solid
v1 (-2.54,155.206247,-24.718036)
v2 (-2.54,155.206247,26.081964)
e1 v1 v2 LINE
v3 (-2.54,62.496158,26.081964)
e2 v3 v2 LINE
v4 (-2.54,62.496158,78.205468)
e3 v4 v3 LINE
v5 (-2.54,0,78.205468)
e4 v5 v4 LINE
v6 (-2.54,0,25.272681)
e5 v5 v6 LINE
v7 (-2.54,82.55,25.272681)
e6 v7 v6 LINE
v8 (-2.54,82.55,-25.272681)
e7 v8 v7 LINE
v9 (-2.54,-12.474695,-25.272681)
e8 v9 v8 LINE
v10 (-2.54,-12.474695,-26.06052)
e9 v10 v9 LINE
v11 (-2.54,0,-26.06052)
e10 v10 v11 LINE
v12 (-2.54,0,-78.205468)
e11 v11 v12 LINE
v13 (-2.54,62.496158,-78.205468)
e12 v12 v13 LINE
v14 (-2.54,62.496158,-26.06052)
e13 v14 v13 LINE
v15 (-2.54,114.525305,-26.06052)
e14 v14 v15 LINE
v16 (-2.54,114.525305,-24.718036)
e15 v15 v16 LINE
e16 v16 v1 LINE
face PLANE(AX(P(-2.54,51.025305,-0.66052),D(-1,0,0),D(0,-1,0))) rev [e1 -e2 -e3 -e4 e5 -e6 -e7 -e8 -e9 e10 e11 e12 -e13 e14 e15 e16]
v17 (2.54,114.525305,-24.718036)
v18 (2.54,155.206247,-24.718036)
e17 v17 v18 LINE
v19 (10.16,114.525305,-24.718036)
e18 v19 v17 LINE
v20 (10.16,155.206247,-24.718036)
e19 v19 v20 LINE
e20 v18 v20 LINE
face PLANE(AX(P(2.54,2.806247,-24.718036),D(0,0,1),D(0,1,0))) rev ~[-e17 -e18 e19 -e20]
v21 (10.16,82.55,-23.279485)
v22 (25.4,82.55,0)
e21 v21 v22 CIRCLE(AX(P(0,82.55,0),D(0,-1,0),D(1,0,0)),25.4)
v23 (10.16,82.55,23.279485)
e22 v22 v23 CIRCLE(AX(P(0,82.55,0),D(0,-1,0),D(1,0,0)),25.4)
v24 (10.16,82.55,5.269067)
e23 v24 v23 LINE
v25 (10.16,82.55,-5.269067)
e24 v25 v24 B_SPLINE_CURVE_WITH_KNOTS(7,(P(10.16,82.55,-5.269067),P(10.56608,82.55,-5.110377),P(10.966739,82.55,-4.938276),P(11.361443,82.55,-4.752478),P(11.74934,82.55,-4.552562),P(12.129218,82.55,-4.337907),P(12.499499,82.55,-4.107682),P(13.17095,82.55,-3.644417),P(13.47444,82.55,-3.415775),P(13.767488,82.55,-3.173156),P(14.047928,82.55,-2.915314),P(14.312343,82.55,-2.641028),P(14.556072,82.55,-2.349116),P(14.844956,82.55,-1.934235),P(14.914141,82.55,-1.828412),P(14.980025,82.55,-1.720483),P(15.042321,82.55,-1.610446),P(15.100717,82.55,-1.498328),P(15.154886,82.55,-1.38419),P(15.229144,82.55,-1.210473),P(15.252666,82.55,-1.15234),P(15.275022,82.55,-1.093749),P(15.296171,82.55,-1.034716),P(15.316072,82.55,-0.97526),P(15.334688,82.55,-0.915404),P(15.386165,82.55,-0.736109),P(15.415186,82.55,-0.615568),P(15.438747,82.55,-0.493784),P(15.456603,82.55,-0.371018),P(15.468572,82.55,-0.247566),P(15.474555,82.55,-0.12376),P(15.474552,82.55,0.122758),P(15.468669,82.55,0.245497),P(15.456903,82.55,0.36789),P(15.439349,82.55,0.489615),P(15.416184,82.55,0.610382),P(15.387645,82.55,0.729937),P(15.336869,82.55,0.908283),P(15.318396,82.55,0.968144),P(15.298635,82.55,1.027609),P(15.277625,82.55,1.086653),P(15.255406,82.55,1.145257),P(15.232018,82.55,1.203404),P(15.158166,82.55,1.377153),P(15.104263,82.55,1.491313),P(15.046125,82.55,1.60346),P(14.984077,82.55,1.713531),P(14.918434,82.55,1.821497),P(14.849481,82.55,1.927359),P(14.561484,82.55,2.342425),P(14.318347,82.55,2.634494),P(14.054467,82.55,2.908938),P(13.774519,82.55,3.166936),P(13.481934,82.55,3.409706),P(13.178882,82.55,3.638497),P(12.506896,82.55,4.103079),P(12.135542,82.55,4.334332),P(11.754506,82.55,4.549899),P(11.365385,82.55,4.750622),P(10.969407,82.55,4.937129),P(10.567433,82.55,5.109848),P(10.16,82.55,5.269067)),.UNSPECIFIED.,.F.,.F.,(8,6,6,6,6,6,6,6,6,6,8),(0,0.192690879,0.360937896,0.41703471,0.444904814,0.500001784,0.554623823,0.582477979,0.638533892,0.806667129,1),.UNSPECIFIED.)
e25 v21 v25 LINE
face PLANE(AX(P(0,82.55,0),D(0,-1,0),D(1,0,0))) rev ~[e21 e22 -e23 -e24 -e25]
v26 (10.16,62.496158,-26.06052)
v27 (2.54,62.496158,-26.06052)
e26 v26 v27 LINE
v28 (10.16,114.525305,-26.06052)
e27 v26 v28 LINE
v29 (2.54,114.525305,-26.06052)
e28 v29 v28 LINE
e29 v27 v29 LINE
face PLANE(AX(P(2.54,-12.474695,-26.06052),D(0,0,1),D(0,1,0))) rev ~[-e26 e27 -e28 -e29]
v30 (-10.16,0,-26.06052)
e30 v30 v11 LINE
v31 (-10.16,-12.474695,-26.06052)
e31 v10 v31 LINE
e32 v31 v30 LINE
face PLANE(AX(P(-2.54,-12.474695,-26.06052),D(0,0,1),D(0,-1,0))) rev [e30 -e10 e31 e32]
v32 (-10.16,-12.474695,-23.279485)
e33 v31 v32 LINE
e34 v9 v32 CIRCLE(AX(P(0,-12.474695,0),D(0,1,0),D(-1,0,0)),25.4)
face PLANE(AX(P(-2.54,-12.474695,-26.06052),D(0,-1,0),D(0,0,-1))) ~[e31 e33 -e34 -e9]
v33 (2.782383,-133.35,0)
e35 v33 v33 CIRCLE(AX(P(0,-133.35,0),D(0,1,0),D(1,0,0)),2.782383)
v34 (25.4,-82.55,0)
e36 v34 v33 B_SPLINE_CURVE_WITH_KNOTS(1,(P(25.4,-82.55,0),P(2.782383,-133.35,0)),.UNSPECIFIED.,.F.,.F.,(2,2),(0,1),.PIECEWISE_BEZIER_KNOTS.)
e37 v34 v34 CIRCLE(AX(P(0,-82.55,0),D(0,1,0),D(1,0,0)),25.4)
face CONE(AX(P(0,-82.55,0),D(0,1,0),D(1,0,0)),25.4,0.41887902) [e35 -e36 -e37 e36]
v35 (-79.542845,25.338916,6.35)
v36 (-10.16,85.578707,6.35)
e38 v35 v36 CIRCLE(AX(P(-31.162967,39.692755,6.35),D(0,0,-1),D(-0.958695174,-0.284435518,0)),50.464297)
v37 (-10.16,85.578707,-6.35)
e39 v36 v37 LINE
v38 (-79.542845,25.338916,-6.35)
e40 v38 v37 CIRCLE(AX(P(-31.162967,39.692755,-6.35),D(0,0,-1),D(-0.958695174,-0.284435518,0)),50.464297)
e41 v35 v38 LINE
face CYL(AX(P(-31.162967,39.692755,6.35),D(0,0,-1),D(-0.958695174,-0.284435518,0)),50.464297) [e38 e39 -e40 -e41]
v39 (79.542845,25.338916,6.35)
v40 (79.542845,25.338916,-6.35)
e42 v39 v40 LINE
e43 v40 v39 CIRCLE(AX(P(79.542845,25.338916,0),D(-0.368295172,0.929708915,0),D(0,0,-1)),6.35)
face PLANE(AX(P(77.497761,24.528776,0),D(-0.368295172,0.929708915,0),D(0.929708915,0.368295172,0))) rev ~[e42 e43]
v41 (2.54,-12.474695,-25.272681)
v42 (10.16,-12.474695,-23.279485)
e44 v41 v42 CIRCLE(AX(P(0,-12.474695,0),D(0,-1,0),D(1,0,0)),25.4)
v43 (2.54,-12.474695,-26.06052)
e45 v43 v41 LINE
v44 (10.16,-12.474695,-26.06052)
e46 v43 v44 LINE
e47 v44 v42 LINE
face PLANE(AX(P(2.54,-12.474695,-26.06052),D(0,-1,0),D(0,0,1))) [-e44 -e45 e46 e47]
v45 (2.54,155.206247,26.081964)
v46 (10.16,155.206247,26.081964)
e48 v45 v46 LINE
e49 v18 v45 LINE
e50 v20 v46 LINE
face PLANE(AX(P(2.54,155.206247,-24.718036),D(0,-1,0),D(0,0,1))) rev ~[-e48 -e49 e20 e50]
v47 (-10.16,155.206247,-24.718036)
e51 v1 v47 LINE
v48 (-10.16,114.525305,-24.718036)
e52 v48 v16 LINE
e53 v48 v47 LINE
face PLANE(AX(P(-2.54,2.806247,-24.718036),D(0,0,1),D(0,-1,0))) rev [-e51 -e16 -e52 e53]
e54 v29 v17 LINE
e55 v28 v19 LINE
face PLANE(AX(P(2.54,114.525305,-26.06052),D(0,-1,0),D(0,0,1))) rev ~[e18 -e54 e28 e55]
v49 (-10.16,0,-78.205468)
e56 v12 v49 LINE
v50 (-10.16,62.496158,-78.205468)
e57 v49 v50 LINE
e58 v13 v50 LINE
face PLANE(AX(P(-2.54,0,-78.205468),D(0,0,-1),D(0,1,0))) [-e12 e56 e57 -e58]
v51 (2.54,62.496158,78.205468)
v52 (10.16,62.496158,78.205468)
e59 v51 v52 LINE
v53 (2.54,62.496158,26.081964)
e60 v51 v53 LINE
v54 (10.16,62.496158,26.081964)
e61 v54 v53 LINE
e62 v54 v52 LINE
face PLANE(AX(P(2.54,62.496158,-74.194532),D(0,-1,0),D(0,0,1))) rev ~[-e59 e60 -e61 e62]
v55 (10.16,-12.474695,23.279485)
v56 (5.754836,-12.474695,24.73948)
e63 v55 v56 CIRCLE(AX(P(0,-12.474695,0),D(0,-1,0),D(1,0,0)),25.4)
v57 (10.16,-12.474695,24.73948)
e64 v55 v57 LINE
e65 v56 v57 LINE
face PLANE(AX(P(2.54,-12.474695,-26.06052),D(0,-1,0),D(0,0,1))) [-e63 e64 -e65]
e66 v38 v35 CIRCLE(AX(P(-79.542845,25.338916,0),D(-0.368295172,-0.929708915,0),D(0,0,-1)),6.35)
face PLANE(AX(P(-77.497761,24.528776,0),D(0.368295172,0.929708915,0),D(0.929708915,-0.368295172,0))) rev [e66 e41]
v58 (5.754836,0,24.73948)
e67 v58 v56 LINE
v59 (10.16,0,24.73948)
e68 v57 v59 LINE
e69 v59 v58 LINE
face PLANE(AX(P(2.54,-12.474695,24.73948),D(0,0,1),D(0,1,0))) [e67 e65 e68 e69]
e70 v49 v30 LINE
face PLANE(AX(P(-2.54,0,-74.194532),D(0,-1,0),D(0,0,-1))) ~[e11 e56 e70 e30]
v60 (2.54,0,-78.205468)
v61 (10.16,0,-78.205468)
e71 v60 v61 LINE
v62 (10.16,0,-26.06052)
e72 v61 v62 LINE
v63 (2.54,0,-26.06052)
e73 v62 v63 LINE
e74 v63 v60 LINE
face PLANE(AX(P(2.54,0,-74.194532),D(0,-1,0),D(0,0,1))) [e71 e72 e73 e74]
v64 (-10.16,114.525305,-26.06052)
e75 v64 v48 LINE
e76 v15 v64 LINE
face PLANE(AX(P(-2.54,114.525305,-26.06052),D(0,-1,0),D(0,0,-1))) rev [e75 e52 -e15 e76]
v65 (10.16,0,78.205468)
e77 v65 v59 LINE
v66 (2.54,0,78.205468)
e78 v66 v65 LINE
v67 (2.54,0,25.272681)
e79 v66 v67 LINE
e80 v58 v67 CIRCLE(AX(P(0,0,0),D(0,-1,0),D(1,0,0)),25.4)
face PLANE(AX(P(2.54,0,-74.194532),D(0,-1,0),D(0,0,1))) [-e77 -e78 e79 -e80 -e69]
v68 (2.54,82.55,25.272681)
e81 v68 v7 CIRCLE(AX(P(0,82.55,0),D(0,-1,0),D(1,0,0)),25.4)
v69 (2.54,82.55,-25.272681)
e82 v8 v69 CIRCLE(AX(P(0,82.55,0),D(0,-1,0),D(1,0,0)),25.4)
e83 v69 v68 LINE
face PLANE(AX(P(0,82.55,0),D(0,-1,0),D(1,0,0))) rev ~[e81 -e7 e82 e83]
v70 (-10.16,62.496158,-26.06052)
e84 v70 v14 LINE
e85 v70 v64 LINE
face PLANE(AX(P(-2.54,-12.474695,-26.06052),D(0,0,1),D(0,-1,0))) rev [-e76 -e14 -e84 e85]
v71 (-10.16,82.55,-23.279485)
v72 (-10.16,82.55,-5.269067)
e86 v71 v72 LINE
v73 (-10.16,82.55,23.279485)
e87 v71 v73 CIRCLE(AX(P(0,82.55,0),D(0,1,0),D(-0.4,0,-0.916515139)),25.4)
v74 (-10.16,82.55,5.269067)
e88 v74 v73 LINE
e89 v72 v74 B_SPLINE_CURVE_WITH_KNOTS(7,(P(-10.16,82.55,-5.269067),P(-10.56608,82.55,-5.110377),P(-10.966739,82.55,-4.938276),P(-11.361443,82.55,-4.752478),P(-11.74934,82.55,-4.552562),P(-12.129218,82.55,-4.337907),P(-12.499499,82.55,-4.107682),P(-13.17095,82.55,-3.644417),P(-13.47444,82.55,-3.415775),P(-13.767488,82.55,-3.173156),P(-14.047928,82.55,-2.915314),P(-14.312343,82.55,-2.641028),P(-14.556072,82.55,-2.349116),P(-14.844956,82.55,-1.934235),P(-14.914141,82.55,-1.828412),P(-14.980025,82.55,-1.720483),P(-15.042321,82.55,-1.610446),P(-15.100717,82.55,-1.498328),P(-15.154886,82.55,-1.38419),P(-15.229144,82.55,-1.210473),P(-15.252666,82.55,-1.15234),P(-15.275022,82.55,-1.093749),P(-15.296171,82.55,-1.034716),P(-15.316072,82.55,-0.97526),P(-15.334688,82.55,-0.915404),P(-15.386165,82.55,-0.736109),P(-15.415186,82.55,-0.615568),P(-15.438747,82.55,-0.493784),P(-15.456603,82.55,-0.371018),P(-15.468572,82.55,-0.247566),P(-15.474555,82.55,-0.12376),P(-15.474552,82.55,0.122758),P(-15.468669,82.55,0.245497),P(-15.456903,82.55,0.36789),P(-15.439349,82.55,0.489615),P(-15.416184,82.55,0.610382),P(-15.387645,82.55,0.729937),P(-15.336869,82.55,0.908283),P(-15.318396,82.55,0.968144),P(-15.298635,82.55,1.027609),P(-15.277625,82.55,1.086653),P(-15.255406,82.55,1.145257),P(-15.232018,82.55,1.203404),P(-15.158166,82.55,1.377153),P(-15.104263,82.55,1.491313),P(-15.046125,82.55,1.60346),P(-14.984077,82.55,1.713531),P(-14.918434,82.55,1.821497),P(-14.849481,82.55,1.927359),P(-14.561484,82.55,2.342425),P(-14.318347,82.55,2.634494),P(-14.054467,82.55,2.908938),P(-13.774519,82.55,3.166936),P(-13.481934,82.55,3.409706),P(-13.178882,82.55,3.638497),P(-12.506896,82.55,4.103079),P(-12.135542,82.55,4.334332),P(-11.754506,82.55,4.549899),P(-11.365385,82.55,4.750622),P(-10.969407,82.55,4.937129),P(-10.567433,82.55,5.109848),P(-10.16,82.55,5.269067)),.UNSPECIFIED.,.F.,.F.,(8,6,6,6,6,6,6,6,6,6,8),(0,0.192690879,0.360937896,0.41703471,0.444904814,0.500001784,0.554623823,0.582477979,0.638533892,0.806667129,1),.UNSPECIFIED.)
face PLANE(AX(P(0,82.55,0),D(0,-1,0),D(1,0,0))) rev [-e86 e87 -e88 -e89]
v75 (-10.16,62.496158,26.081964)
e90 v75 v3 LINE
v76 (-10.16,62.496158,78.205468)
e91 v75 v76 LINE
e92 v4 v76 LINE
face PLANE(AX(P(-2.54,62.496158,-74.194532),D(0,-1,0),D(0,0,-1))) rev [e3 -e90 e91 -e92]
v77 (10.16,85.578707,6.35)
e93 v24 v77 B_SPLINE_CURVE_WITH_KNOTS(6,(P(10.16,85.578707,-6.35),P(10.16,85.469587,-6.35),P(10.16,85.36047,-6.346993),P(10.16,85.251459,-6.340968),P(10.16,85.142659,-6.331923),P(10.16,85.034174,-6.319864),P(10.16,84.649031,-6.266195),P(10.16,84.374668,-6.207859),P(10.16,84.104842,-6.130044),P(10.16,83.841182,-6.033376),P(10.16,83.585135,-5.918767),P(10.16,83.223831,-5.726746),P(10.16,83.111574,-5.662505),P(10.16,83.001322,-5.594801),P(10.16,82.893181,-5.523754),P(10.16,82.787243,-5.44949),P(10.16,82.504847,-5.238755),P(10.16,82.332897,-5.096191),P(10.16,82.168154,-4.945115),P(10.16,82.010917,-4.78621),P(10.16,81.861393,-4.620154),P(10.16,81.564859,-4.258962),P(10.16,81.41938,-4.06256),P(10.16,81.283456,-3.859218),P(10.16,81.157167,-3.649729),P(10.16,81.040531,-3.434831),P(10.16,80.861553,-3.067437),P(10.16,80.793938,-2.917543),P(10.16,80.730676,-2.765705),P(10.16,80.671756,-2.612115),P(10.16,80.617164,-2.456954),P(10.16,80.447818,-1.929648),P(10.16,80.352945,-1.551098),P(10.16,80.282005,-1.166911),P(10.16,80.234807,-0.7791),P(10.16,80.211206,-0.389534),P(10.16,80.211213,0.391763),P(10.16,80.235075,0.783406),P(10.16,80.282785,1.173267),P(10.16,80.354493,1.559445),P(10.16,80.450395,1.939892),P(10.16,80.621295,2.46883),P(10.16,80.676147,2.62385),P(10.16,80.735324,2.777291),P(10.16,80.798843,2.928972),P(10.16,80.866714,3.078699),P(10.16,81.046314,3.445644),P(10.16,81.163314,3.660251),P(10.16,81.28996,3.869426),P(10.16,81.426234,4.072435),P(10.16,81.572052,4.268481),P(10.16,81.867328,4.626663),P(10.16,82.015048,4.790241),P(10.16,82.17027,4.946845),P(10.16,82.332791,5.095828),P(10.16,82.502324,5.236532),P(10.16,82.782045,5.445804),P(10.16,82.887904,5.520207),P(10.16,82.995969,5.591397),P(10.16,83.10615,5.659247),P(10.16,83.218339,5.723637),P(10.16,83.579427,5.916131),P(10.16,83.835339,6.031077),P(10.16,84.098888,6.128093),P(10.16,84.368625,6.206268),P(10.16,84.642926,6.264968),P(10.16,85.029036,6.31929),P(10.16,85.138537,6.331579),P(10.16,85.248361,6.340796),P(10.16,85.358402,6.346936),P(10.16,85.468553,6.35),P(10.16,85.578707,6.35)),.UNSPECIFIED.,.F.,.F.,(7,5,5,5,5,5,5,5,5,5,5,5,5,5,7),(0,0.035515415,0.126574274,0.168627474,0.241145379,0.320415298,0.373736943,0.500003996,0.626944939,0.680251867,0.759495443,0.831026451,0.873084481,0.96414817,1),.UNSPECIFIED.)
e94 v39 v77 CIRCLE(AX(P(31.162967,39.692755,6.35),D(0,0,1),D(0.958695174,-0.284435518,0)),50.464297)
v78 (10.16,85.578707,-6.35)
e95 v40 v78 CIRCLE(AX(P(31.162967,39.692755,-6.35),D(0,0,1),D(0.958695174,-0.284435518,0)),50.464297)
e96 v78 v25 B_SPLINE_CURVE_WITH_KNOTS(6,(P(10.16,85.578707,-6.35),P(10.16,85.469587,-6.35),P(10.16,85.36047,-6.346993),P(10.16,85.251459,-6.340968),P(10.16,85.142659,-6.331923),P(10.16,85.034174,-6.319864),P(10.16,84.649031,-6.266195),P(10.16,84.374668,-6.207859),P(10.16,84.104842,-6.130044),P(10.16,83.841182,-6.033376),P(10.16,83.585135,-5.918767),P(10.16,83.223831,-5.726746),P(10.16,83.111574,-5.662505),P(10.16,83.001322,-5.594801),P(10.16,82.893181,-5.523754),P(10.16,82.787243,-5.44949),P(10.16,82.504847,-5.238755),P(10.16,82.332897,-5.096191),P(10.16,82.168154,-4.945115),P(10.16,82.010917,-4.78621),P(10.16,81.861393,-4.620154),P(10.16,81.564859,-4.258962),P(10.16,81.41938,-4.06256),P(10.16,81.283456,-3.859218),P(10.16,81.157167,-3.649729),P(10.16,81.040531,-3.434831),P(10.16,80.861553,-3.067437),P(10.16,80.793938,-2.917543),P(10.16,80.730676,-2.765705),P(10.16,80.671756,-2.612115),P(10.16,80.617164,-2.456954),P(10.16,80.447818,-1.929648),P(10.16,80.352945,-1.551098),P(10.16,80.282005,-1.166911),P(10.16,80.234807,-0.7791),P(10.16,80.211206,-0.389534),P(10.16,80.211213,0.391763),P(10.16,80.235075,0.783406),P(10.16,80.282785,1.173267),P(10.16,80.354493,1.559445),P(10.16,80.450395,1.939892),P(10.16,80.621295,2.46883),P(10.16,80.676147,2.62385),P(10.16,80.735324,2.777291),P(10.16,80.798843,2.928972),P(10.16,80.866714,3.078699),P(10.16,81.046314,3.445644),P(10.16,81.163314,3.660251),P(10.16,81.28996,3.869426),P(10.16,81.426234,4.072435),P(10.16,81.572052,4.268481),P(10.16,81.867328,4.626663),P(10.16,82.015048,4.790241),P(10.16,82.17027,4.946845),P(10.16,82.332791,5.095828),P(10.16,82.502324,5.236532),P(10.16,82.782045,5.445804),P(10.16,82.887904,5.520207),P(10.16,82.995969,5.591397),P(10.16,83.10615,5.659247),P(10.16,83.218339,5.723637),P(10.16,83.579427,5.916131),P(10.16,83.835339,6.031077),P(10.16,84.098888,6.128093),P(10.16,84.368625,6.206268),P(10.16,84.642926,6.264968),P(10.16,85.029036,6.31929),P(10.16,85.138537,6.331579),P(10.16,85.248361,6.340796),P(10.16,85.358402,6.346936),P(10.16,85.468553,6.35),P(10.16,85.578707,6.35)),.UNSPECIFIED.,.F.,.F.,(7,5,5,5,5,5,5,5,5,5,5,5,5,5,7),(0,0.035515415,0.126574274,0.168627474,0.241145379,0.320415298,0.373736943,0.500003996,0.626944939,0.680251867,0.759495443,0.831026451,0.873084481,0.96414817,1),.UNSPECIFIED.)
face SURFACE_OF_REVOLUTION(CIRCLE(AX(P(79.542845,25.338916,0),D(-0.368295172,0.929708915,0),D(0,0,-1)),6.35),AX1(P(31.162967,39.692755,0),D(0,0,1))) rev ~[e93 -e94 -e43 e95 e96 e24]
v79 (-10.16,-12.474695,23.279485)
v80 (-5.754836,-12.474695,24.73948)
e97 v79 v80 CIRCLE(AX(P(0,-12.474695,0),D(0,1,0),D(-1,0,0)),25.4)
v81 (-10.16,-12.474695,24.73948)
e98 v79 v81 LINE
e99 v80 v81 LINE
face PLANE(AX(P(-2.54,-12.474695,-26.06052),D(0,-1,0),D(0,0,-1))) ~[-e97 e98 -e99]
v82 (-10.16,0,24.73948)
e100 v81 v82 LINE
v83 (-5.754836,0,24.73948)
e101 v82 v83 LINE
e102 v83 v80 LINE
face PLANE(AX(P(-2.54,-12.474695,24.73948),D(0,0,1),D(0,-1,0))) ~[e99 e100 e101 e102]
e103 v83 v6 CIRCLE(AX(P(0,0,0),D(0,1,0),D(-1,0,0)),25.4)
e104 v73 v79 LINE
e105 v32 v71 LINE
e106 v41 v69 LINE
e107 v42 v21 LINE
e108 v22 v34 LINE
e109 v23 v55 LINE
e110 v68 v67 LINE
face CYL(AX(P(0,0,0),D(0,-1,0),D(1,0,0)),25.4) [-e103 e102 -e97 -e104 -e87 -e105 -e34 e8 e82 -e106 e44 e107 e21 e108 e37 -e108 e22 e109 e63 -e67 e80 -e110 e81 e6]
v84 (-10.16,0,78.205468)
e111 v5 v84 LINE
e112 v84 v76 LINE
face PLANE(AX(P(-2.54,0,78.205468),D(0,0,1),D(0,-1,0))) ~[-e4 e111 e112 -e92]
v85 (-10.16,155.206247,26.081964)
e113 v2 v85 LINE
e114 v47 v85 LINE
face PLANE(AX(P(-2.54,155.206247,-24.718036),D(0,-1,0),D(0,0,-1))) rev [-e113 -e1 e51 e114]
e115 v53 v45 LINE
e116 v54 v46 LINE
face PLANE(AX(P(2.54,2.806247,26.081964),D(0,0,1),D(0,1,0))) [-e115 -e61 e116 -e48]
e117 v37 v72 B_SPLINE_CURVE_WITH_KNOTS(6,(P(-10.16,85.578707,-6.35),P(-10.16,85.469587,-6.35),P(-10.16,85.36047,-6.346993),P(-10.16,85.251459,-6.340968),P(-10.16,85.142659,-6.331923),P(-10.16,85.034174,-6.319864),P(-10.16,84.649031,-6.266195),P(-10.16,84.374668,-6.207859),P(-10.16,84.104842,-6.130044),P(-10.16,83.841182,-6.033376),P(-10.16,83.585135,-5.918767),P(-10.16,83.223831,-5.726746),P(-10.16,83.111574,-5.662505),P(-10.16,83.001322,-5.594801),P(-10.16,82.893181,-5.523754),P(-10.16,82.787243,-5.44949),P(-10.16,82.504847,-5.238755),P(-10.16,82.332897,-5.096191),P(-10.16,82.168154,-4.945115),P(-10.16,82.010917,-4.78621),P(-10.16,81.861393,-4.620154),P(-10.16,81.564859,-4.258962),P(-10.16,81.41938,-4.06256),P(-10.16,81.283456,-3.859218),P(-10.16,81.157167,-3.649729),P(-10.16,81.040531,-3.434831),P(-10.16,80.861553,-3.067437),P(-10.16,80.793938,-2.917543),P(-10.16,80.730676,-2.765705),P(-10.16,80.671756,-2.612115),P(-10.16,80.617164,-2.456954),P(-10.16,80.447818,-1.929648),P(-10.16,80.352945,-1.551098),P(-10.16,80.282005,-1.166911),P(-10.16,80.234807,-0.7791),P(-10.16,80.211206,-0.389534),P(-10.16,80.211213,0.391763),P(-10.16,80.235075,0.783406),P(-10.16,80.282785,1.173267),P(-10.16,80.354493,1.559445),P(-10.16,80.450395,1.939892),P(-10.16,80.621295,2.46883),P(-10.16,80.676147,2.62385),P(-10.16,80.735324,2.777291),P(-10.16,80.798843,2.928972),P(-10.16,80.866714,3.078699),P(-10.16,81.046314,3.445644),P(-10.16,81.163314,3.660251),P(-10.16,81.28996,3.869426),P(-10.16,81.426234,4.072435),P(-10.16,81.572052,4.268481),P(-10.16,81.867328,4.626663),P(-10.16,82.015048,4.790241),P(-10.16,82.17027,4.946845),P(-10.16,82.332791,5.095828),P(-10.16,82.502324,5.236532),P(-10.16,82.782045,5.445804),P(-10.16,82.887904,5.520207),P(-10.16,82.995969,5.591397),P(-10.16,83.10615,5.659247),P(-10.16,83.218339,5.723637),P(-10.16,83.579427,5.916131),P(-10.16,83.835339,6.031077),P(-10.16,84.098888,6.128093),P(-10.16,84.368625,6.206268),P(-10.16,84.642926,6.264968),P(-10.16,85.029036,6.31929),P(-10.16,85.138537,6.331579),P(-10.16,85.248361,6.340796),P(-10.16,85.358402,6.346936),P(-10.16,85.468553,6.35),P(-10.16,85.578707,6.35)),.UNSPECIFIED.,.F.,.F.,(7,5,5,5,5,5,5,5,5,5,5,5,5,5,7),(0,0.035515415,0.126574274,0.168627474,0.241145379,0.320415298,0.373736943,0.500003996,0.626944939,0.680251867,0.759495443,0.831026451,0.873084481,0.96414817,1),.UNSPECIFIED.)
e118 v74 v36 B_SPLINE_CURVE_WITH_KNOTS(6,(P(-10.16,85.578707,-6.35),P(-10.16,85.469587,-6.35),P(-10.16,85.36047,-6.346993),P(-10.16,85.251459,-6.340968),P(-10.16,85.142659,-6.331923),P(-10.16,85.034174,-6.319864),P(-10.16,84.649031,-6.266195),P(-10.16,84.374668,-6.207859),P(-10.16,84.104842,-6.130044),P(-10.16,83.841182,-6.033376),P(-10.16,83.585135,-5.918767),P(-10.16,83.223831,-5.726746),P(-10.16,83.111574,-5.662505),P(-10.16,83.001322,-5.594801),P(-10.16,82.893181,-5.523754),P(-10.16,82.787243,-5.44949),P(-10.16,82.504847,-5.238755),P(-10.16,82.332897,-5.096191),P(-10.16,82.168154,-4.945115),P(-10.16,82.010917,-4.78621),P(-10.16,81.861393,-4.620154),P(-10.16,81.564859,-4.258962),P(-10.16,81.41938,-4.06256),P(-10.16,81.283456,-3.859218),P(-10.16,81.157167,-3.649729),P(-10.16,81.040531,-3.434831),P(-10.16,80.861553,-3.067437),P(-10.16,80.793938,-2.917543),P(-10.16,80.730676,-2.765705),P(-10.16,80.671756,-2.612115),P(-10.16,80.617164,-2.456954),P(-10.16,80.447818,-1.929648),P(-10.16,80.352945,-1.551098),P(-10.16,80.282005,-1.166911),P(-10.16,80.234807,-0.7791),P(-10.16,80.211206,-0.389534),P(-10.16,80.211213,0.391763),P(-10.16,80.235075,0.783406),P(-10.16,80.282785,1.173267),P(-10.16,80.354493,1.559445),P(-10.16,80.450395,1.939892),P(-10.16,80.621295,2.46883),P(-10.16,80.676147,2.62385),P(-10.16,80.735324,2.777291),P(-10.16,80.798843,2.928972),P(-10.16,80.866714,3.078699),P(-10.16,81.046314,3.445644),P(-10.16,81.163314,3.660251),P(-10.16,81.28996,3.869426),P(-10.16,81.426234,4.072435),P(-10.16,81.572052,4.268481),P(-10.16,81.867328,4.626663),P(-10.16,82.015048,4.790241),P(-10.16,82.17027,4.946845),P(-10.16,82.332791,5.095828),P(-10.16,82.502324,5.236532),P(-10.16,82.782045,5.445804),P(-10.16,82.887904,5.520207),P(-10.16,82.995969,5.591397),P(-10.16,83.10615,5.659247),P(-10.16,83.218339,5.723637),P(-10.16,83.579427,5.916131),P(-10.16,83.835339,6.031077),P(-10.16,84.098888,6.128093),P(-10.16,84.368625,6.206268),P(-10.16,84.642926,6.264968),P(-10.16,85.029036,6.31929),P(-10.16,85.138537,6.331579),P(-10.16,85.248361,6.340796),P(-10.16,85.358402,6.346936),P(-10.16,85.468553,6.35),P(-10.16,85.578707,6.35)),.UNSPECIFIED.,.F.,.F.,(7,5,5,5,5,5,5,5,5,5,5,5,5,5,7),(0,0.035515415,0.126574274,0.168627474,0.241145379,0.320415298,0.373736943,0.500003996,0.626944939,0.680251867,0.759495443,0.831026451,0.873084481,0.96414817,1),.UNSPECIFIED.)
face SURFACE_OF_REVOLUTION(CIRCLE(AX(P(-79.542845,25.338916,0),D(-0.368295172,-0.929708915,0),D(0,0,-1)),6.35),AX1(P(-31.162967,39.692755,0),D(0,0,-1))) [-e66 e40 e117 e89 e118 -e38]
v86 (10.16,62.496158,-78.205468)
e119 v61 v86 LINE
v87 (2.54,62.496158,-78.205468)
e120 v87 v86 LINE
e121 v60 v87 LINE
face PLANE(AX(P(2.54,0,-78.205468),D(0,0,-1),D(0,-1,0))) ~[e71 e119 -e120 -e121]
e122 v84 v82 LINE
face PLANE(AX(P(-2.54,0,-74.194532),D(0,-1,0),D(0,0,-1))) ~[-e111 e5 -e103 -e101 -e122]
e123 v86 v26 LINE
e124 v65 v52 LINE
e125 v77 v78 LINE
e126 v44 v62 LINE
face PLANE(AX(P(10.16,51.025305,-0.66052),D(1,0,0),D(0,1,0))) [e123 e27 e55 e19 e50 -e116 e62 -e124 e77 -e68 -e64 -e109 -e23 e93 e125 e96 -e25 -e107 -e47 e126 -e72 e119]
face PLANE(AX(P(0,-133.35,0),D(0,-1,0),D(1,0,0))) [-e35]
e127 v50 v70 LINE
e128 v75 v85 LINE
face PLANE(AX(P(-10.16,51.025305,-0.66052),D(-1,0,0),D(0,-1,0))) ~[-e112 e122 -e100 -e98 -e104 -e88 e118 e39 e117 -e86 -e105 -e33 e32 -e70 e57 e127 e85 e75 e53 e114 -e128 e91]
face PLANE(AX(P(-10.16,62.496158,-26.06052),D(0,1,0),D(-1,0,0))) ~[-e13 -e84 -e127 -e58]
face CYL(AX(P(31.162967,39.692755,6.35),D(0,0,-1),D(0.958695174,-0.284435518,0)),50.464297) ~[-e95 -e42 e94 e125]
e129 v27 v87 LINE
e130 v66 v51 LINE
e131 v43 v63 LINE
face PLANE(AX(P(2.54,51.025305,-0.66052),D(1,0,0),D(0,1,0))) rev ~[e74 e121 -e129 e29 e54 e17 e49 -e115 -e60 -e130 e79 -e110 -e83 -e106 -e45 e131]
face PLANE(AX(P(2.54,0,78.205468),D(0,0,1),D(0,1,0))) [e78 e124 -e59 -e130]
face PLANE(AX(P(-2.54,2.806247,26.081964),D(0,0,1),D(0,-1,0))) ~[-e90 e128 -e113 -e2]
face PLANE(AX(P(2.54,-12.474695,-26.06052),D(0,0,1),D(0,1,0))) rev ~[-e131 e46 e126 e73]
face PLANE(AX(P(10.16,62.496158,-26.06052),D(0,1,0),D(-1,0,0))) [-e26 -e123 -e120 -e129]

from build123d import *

# Parameters (mm, degrees)
F0_W      = 24.6273766255
F0_H      = 152.4
F3_R      = 25.4
F4_DEPTH  = 82.55
F8_W      = 62.4961581021
F8_H      = 152.4
F9_DEPTH  = 7.62
F11_W     = 127
F11_H     = 50.8
F12_DEPTH = 7.62
F13_W     = 152.4
F13_H     = 76.2
F14_DEPTH = 7.62
F15_R     = 25.4
F16_DEPTH = 50.8
F16_TAPER = 24
F17_DEPTH = 25.4


with BuildPart() as f1:
    # F0 (on Top) → F1 (revolve)
    with BuildSketch(Plane.XY):
        with Locations((1.4390293509, 0)):
            Rectangle(F0_W, F0_H)
    revolve(axis=Axis((13.7527176636, 0, 0), (0, -1, 0)))


with BuildPart() as f4:
    # F3 (on Front) → F4 (new body, symmetric)
    with BuildSketch(Plane.XZ):
        Circle(F3_R)
    extrude(amount=F4_DEPTH, both=True)

    # F8 (on offset) → F9 (join)
    with BuildSketch(Plane.YZ.offset(2.54)):
        with Locations((31.2480790511, 2.0054676748)):
            Rectangle(F8_W, F8_H)
    extrude(amount=F9_DEPTH)

    # F10: F4 across plane


with BuildPart() as f4_1:
    add(f4.part)
    add(f4.part.mirror(Plane.XY))

    # F11 (on offset) → F12 (join)
    with BuildSketch(Plane.YZ.offset(2.54)):
        with Locations((51.0253053619, -0.6605200469)):
            Rectangle(F11_W, F11_H)
    extrude(amount=F12_DEPTH)

    # F13 (on offset) → F14 (join)
    with BuildSketch(Plane.YZ.offset(2.54)):
        with Locations((79.006247285, 13.3819643736)):
            Rectangle(F13_W, F13_H)
    extrude(amount=F14_DEPTH)

    # F15 (on face) → F16 (join)
    with BuildSketch(Plane.XZ.offset(82.55)):
        Circle(F15_R)
    extrude(amount=F16_DEPTH, taper=F16_TAPER)

    # F17 (cut): faces of the model
    f17_faces = [f4_1.faces().sort_by_distance(p)[0] for p in [
        (6.35, 108.8512026936, 51.4819643736),
        (6.35, 88.510731732, -26.0605200469),
    ]]
    extrude(f17_faces, amount=-F17_DEPTH, dir=(0, 0, 1), mode=Mode.SUBTRACT)

    # F20: sweep along a path in F18
    with BuildLine(Plane.XY) as f20_path:
        ThreePointArc((79.5428454876, 25.338916108), (15.8456347969, 87.7762718464), (0, 0))
    # F19 (on Right) → F20 (sweep)
    with BuildSketch(Plane.YZ):
        with BuildLine():
            ThreePointArc((0, -6.35), (6.35, 0), (0, 6.35))
            Line((0, 6.35), (0, -6.35))
        make_face()
    sweep(path=f20_path.line)

    # F21: F4 across plane


with BuildPart() as f4_2:
    add(f4_1.part)
    add(f4_1.part.mirror(Plane.YZ))


solid = f4_2.part
